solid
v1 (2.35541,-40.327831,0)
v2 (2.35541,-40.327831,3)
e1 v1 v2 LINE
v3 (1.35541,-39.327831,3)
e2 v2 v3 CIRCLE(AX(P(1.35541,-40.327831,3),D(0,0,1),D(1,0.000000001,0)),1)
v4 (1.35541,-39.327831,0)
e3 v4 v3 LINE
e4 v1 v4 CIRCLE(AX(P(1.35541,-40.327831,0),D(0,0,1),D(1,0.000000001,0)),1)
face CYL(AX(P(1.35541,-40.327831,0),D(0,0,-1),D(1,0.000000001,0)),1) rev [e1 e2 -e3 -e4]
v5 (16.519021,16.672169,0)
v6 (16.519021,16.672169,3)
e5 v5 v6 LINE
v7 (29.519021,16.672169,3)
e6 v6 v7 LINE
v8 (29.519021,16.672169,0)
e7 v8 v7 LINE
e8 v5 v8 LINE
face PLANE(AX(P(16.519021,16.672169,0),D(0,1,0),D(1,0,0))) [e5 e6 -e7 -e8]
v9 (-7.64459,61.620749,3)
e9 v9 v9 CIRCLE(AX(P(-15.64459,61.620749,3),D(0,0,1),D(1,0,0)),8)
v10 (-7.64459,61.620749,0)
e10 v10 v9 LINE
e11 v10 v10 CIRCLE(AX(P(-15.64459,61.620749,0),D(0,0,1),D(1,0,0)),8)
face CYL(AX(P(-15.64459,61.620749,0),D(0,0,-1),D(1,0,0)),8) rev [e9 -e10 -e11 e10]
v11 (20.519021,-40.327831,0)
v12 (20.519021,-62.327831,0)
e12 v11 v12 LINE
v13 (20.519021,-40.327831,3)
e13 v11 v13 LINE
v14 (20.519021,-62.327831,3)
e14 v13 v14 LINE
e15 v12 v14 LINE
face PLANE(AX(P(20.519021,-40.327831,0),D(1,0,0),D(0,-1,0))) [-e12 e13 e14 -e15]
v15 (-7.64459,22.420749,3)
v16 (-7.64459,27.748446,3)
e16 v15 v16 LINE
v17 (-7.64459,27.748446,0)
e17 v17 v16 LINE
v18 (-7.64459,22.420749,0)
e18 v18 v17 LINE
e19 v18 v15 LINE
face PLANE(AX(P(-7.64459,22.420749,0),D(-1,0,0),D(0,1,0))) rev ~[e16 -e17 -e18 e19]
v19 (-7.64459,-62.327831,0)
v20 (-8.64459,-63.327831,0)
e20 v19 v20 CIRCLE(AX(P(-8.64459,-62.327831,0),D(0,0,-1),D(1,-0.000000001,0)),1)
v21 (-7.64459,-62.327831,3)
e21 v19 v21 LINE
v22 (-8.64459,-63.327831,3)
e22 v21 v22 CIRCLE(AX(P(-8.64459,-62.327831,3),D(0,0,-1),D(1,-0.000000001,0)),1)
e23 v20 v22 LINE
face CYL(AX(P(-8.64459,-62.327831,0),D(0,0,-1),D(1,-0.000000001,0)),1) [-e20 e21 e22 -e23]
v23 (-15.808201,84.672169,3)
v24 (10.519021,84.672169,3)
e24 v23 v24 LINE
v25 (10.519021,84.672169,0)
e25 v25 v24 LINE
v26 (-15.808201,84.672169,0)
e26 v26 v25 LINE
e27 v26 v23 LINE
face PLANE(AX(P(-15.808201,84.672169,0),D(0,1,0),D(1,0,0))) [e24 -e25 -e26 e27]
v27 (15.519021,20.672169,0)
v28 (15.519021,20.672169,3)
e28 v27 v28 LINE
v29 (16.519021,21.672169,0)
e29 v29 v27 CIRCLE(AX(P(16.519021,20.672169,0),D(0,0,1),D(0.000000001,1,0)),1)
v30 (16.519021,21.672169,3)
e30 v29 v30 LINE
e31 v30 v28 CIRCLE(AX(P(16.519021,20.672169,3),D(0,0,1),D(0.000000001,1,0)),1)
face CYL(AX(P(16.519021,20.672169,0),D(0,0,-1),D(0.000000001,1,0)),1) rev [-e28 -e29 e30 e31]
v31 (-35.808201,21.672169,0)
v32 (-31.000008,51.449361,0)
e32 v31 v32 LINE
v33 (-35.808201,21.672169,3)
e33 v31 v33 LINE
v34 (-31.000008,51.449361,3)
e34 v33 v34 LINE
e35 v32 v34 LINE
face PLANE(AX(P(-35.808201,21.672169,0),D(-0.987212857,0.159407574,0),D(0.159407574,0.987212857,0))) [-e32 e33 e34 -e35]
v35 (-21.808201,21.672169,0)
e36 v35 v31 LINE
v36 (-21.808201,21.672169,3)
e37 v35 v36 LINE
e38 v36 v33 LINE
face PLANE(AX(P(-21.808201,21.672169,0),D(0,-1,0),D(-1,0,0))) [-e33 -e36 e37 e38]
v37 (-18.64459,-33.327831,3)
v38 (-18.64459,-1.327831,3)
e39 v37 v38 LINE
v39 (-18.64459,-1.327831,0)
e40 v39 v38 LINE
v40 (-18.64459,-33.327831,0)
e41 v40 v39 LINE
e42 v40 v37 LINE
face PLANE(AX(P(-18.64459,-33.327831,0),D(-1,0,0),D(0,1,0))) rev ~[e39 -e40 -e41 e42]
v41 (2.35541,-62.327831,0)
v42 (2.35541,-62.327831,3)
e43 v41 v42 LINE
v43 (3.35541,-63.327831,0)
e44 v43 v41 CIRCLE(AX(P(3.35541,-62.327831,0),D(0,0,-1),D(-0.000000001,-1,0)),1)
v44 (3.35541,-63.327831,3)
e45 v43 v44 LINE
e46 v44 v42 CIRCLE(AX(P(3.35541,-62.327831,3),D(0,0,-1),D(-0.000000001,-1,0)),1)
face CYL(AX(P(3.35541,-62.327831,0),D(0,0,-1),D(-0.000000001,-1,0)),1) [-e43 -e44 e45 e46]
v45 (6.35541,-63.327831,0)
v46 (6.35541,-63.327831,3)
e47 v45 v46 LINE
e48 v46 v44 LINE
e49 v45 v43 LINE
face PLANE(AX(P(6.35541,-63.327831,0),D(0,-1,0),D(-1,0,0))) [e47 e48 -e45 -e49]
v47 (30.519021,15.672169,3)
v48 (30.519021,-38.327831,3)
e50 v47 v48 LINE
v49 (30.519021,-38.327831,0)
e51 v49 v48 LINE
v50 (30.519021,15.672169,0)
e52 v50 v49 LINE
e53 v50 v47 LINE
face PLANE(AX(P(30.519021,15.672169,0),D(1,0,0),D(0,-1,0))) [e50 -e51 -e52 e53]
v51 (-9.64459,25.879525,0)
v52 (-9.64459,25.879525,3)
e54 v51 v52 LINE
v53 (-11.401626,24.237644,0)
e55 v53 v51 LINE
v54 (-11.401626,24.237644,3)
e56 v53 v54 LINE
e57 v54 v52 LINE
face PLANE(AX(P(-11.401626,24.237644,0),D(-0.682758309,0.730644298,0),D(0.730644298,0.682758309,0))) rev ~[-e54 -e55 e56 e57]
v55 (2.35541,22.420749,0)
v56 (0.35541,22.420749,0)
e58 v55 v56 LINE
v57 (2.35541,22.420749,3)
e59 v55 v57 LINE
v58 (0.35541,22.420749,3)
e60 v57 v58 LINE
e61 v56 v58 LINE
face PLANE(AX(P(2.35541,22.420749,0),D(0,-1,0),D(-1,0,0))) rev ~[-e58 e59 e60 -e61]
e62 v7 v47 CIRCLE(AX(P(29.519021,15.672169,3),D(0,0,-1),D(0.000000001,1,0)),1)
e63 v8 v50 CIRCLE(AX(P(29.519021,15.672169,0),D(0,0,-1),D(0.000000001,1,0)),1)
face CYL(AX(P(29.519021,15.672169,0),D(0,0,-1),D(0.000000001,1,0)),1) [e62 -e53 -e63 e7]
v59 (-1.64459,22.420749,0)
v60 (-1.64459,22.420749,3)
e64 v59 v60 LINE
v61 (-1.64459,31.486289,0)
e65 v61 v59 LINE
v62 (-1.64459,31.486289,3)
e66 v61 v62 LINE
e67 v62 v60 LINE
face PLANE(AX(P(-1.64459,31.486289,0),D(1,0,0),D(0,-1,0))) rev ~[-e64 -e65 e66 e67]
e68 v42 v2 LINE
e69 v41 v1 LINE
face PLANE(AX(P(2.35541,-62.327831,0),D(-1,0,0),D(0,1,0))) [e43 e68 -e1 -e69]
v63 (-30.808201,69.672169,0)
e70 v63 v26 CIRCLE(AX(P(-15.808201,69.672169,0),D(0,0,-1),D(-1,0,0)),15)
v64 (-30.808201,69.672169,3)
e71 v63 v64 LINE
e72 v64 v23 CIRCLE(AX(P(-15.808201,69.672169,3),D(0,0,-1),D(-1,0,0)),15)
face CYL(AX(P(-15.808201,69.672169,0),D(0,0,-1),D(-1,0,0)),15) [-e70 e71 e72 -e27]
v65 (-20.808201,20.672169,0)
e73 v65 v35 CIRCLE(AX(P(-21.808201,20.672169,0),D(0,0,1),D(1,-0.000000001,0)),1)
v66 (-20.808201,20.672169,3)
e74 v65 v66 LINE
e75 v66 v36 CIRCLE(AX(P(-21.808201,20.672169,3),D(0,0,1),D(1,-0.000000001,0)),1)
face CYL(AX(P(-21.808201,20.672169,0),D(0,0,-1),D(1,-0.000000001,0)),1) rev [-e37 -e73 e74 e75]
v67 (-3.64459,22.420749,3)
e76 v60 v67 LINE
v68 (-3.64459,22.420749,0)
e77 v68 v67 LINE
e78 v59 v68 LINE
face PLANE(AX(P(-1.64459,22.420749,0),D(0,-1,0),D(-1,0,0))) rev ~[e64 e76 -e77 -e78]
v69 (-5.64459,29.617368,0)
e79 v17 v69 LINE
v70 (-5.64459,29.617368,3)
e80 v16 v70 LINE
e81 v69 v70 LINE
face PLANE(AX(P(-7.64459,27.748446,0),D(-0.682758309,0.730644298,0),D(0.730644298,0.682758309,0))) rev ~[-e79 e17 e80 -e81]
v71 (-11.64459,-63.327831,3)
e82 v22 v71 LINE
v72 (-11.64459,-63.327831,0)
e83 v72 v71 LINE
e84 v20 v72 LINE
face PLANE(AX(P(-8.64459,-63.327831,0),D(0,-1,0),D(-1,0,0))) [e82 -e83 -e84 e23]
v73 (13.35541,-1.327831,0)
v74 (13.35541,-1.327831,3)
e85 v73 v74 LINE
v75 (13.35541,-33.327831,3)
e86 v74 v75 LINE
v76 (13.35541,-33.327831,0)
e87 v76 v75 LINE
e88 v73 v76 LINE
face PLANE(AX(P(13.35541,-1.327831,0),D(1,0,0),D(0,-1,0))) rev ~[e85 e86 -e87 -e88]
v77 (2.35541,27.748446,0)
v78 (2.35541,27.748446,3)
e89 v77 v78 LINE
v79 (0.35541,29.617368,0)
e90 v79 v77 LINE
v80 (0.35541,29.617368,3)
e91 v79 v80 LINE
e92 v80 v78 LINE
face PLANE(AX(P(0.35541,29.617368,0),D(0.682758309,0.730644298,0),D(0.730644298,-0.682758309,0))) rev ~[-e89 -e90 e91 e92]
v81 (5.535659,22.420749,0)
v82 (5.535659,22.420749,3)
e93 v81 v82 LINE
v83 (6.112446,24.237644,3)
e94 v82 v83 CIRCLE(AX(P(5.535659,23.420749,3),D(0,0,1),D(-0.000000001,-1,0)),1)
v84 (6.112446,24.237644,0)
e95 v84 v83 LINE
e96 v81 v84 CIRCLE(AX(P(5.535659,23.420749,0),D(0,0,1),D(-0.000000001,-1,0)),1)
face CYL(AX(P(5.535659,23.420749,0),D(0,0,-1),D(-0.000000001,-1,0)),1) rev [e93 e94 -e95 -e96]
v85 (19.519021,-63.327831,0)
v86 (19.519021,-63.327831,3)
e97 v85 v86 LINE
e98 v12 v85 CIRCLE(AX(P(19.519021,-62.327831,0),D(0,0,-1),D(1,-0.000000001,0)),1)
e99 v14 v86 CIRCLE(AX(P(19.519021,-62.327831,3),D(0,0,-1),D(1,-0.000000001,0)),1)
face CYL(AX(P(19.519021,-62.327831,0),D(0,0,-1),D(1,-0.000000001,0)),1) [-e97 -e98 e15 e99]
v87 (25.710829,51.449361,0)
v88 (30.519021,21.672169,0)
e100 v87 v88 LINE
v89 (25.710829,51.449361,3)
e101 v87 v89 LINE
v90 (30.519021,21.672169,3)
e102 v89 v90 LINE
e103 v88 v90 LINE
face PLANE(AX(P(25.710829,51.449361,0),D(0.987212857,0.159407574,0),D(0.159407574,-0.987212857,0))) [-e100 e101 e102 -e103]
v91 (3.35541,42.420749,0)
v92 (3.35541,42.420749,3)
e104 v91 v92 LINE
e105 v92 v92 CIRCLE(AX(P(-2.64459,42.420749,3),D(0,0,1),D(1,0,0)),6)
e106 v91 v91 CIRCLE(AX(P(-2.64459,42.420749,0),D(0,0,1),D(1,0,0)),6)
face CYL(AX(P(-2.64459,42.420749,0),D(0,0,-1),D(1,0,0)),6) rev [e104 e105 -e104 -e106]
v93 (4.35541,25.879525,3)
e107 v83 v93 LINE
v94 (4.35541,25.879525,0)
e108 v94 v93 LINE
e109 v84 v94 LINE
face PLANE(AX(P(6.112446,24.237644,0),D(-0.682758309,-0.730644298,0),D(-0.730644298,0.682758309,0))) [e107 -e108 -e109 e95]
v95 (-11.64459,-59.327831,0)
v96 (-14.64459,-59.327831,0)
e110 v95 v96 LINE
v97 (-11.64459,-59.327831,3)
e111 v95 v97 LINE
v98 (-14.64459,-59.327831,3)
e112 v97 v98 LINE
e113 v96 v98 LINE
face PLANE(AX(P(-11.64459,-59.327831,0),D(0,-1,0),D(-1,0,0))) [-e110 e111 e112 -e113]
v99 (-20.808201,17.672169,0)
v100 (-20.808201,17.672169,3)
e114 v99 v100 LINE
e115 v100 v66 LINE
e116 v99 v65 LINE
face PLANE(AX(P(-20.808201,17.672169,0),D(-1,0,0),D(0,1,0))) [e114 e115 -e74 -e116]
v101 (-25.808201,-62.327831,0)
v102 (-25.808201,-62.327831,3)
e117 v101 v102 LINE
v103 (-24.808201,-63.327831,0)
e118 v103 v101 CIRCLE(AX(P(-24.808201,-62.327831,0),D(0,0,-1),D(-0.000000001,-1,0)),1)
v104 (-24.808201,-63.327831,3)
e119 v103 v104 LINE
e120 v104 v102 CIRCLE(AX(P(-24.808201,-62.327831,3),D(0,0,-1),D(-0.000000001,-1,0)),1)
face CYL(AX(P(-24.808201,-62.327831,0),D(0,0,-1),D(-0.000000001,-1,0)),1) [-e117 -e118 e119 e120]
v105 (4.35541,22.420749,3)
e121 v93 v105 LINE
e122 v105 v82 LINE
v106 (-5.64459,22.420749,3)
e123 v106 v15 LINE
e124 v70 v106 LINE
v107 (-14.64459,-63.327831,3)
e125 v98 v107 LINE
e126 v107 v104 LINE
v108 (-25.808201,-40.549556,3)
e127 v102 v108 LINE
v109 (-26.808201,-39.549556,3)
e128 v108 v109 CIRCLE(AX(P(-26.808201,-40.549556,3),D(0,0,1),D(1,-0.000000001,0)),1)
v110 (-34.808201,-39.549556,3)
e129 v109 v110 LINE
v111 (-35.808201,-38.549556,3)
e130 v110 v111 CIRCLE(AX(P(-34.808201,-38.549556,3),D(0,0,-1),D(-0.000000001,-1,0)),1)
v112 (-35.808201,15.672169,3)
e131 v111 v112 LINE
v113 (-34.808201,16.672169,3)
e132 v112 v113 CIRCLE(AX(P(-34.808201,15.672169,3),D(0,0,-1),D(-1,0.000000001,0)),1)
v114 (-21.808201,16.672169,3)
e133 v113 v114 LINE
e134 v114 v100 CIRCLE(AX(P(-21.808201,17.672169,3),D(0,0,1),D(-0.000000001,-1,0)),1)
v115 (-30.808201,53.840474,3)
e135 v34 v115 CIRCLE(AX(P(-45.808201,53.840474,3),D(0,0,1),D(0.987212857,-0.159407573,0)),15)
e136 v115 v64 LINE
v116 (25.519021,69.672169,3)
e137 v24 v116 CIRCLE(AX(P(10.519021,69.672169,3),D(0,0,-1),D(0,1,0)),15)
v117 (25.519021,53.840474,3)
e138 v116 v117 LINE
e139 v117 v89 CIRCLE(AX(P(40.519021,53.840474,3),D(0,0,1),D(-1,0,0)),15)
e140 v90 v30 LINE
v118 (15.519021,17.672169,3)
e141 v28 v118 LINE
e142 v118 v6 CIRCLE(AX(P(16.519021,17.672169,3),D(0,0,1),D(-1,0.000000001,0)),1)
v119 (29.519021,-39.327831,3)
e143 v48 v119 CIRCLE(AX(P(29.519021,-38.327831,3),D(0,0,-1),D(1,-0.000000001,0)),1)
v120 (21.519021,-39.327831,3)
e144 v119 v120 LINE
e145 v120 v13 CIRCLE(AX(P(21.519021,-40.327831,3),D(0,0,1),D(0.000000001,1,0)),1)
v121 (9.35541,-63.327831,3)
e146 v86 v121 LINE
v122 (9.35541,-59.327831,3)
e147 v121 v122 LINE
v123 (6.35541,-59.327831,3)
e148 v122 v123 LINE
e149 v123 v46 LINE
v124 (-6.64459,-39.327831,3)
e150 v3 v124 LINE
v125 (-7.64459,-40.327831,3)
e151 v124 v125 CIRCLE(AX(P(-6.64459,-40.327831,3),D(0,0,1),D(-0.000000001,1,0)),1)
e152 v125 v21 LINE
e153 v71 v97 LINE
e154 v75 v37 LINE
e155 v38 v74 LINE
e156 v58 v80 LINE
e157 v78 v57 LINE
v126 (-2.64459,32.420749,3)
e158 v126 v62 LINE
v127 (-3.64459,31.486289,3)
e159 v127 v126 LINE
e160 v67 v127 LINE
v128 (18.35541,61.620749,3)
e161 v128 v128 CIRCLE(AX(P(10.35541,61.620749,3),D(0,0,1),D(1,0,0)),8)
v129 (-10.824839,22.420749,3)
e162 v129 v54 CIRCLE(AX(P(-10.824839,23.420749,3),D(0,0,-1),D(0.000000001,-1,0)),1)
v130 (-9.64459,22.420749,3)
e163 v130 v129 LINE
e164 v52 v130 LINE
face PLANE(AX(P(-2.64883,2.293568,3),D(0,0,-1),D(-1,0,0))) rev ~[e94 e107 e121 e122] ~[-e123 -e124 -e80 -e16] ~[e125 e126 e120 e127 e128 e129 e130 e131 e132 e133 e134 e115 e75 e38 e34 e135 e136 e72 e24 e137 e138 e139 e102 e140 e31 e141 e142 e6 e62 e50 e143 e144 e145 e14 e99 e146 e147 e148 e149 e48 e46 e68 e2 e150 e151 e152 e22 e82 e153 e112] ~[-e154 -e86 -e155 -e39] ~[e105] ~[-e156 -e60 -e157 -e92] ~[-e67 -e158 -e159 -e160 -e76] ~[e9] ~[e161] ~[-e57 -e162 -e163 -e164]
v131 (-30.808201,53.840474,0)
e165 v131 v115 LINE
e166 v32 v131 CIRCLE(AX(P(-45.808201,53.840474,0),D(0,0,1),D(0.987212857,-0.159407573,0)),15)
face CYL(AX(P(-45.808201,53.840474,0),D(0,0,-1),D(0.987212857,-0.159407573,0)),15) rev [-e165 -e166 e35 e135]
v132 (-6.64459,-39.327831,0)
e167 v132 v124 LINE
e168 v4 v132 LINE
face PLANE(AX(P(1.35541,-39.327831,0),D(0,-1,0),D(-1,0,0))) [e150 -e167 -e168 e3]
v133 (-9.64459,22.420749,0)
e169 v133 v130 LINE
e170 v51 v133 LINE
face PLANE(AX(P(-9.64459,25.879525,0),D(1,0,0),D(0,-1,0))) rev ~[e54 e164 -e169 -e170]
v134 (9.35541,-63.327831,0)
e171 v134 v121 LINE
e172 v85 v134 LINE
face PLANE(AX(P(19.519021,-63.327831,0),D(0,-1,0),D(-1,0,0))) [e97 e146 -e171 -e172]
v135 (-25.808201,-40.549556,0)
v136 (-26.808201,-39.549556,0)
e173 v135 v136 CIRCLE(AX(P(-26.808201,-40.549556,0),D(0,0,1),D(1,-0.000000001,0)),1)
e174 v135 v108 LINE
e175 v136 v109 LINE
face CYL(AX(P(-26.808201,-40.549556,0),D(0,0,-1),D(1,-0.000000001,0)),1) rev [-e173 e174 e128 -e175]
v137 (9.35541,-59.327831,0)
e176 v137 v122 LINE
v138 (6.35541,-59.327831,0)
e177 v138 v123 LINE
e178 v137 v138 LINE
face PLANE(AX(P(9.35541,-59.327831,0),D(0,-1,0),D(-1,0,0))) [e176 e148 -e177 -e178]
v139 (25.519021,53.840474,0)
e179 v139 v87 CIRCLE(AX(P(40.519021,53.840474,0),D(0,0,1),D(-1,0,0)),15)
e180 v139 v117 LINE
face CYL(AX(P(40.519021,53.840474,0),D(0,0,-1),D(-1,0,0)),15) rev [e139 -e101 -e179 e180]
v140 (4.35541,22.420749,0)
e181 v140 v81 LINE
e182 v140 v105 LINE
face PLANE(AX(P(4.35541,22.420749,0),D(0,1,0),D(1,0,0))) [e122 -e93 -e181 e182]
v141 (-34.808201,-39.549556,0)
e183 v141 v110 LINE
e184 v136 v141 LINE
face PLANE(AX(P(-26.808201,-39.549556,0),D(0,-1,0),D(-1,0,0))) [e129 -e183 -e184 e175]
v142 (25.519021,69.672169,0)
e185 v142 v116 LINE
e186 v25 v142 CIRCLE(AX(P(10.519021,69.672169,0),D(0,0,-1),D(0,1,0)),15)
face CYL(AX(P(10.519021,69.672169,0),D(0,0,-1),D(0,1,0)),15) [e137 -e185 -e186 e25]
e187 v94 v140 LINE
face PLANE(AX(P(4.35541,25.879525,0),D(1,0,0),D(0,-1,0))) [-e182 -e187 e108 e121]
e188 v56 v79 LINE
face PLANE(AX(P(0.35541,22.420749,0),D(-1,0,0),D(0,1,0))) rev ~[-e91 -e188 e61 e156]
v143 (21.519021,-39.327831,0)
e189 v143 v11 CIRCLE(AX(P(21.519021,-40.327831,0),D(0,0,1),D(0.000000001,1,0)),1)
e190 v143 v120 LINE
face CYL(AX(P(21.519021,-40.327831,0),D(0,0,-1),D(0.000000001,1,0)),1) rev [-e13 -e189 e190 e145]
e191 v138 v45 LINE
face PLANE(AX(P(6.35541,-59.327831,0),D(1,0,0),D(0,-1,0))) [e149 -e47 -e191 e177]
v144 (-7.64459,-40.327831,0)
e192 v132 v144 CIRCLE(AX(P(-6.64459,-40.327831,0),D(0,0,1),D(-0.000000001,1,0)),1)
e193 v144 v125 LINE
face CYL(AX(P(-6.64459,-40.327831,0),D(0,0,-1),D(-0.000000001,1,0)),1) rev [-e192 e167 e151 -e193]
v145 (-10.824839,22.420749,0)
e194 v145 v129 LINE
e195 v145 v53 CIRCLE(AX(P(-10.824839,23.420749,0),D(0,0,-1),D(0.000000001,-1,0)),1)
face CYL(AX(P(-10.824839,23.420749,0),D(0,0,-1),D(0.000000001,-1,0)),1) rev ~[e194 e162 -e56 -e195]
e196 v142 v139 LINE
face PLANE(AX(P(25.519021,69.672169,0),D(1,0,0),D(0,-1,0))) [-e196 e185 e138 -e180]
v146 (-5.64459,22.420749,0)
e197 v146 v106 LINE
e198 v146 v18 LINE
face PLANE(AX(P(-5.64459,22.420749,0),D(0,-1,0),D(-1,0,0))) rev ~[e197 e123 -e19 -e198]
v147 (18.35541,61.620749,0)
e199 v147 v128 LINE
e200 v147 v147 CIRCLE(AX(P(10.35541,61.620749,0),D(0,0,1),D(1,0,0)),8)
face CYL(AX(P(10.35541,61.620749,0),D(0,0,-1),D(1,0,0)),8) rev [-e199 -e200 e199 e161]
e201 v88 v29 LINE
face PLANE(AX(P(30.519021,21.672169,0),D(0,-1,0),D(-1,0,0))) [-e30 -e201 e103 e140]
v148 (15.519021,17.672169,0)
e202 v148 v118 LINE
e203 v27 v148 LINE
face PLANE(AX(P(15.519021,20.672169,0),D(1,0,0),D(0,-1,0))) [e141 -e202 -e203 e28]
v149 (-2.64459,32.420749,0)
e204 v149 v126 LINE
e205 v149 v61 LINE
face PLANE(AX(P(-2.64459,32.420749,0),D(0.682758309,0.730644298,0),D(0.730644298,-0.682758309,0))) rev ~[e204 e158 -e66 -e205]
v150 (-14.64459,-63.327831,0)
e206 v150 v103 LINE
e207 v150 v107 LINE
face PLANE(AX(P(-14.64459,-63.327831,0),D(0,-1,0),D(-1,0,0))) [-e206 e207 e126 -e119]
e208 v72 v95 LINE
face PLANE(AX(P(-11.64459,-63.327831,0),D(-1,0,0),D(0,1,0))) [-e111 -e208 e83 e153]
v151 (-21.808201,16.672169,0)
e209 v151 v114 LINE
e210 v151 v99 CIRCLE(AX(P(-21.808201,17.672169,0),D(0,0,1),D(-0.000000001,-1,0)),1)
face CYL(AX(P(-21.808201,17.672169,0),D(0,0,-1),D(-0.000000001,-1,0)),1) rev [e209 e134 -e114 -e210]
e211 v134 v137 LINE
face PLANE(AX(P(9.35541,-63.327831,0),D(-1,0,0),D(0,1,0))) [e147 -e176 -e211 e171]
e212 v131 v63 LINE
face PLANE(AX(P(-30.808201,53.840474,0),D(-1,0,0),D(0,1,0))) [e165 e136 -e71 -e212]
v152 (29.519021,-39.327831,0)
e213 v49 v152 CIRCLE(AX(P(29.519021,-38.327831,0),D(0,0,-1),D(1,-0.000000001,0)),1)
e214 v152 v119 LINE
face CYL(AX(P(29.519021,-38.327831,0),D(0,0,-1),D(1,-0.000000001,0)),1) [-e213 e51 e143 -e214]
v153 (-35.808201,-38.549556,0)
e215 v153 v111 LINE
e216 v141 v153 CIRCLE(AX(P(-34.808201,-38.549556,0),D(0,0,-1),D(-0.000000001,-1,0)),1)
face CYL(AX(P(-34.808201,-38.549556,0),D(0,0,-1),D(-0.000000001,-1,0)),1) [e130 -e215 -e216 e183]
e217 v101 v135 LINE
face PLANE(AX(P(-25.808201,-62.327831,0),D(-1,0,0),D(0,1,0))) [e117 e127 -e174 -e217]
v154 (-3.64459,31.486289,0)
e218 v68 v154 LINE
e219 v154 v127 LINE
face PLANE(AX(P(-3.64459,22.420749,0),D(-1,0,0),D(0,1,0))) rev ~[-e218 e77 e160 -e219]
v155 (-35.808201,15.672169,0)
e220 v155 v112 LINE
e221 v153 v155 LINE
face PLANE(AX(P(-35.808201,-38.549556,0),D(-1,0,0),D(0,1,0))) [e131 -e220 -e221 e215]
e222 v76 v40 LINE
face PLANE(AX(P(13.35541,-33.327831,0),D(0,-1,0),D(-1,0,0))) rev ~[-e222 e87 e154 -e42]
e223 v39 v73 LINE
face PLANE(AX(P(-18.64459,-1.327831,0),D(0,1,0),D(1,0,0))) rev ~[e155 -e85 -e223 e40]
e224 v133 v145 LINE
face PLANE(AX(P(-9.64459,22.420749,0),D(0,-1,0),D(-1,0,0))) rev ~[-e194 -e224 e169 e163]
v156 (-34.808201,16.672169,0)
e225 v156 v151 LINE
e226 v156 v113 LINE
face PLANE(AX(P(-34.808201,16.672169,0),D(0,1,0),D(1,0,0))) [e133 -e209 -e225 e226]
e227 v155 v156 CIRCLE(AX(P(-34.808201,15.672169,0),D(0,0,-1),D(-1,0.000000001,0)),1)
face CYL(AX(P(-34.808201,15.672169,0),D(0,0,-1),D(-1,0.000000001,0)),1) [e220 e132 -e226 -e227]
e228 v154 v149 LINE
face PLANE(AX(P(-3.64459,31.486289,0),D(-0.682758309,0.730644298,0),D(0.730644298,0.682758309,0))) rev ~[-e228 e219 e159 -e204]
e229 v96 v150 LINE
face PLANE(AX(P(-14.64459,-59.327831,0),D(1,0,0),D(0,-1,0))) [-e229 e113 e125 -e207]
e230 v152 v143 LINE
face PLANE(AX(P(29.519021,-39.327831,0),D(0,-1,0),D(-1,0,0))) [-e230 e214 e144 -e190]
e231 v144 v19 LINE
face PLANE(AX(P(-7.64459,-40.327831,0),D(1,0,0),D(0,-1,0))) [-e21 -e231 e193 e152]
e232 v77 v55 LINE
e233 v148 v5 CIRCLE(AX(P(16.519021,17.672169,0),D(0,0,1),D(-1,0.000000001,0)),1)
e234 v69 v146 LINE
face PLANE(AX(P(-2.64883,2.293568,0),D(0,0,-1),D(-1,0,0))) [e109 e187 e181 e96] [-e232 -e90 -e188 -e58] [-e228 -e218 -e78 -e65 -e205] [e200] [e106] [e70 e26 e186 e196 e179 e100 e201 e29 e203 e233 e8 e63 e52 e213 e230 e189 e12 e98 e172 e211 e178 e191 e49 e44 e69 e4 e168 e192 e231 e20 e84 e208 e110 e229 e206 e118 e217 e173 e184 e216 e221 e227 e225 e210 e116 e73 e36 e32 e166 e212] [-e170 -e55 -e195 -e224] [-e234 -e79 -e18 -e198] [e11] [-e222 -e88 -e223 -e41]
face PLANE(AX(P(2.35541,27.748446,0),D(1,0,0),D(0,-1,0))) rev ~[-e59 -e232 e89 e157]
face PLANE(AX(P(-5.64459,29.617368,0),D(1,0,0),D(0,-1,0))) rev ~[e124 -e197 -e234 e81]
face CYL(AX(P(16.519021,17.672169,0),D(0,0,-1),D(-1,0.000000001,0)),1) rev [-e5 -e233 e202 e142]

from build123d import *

# Parameters (mm, degrees)
MODEL_R                 = 8
MODEL_R_2               = 6
SALIENTE_EXTRUIR1_DEPTH = 3


with BuildPart() as part:
    # Model → Saliente-Extruir1 (new body)
    with BuildSketch(Plane.XY):
        with BuildLine():
            Line((30.519021416, 15.672169472), (30.519021416, -38.327830528))
            ThreePointArc((30.519021416, -38.327830528), (30.226128197, -39.034937309), (29.519021416, -39.327830528))
            Line((29.519021416, -39.327830528), (21.519021416, -39.327830528))
            ThreePointArc((21.519021416, -39.327830528), (20.811914634, -39.620723747), (20.519021416, -40.327830528))
            Line((20.519021416, -40.327830528), (20.519021416, -62.327830528))
            ThreePointArc((20.519021416, -62.327830528), (20.226128197, -63.034937309), (19.519021416, -63.327830528))
            Line((19.519021416, -63.327830528), (9.355410048, -63.327830528))
            Line((9.355410048, -63.327830528), (9.355410048, -59.327830528))
            Line((9.355410048, -59.327830528), (6.355410048, -59.327830528))
            Line((6.355410048, -59.327830528), (6.355410048, -63.327830528))
            Line((6.355410048, -63.327830528), (3.355410048, -63.327830528))
            ThreePointArc((3.355410048, -63.327830528), (2.648303267, -63.034937309), (2.355410048, -62.327830528))
            Line((2.355410048, -62.327830528), (2.355410048, -40.327830528))
            ThreePointArc((2.355410048, -40.327830528), (2.062516829, -39.620723747), (1.355410048, -39.327830528))
            Line((1.355410048, -39.327830528), (-6.644589952, -39.327830528))
            ThreePointArc((-6.644589952, -39.327830528), (-7.351696733, -39.620723747), (-7.644589952, -40.327830528))
            Line((-7.644589952, -40.327830528), (-7.644589952, -62.327830528))
            ThreePointArc((-7.644589952, -62.327830528), (-7.937483171, -63.034937309), (-8.644589952, -63.327830528))
            Line((-8.644589952, -63.327830528), (-11.644589952, -63.327830528))
            Line((-11.644589952, -63.327830528), (-11.644589952, -59.327830528))
            Line((-11.644589952, -59.327830528), (-14.644589952, -59.327830528))
            Line((-14.644589952, -59.327830528), (-14.644589952, -63.327830528))
            Line((-14.644589952, -63.327830528), (-24.80820132, -63.327830528))
            ThreePointArc((-24.80820132, -63.327830528), (-25.515308101, -63.034937309), (-25.80820132, -62.327830528))
            Line((-25.80820132, -62.327830528), (-25.80820132, -40.549556443))
            ThreePointArc((-25.80820132, -40.549556443), (-26.101094538, -39.842449662), (-26.80820132, -39.549556443))
            Line((-26.80820132, -39.549556443), (-34.80820132, -39.549556443))
            ThreePointArc((-34.80820132, -39.549556443), (-35.515308101, -39.256663224), (-35.80820132, -38.549556443))
            Line((-35.80820132, -38.549556443), (-35.80820132, 8.978477483))
            Line((-35.80820132, 8.978477483), (-35.80820132, 15.672169472))
            ThreePointArc((-35.80820132, 15.672169472), (-35.515308101, 16.379276253), (-34.80820132, 16.672169472))
            Line((-34.80820132, 16.672169472), (-21.80820132, 16.672169472))
            ThreePointArc((-21.80820132, 16.672169472), (-21.101094538, 16.965062691), (-20.80820132, 17.672169472))
            Line((-20.80820132, 17.672169472), (-20.80820132, 20.672169472))
            ThreePointArc((-20.80820132, 20.672169472), (-21.101094538, 21.379276253), (-21.80820132, 21.672169472))
            Line((-21.80820132, 21.672169472), (-35.80820132, 21.672169472))
            Line((-35.80820132, 21.672169472), (-31.000008461, 51.449360761))
            ThreePointArc((-31.000008461, 51.449360761), (-30.856229997, 52.641077199), (-30.80820132, 53.840474364))
            Line((-30.80820132, 53.840474364), (-30.80820132, 69.672169472))
            ThreePointArc((-30.80820132, 69.672169472), (-26.414803037, 80.27877119), (-15.80820132, 84.672169472))
            Line((-15.80820132, 84.672169472), (10.519021416, 84.672169472))
            ThreePointArc((10.519021416, 84.672169472), (21.125623133, 80.27877119), (25.519021416, 69.672169472))
            Line((25.519021416, 69.672169472), (25.519021416, 62.471272593))
            Line((25.519021416, 62.471272593), (25.519021416, 53.840474364))
            ThreePointArc((25.519021416, 53.840474364), (25.567050093, 52.641077199), (25.710828557, 51.449360761))
            Line((25.710828557, 51.449360761), (30.519021416, 21.672169472))
            Line((30.519021416, 21.672169472), (16.519021416, 21.672169472))
            ThreePointArc((16.519021416, 21.672169472), (15.811914634, 21.379276253), (15.519021416, 20.672169472))
            Line((15.519021416, 20.672169472), (15.519021416, 17.672169472))
            ThreePointArc((15.519021416, 17.672169472), (15.811914634, 16.965062691), (16.519021416, 16.672169472))
            Line((16.519021416, 16.672169472), (29.519021416, 16.672169472))
            ThreePointArc((29.519021416, 16.672169472), (30.226128197, 16.379276253), (30.519021416, 15.672169472))
        make_face()
        with Locations((-15.644589952, 61.620749462)):
            Circle(MODEL_R, mode=Mode.SUBTRACT)
        with Locations((10.355410048, 61.620749462)):
            Circle(MODEL_R, mode=Mode.SUBTRACT)
        with Locations((-2.644589952, 42.420749462)):
            Circle(MODEL_R_2, mode=Mode.SUBTRACT)
        with BuildLine():
            Line((4.355410048, 22.420749462), (5.535659362, 22.420749462))
            ThreePointArc((5.535659362, 22.420749462), (6.488784367, 23.118172652), (6.112446409, 24.23764401))
            Line((6.112446409, 24.23764401), (4.355410048, 25.879525262))
            Line((4.355410048, 25.879525262), (4.355410048, 22.420749462))
        make_face(mode=Mode.SUBTRACT)
        Polygon((2.355410048, 22.420749462), (0.355410048, 22.420749462), (0.355410048, 29.617367662), (2.355410048, 27.748446462), align=None, mode=Mode.SUBTRACT)
        Polygon((-3.644589952, 31.486288862), (-2.644589952, 32.420749462), (-1.644589952, 31.486288862), (-1.644589952, 22.420749462), (-3.644589952, 22.420749462), align=None, mode=Mode.SUBTRACT)
        Polygon((-5.644589952, 22.420749462), (-7.644589952, 22.420749462), (-7.644589952, 27.748446462), (-5.644589952, 29.617367662), align=None, mode=Mode.SUBTRACT)
        with BuildLine():
            Line((-9.644589952, 22.420749462), (-10.824839266, 22.420749462))
            ThreePointArc((-10.824839266, 22.420749462), (-11.777964271, 23.118172652), (-11.401626313, 24.23764401))
            Line((-11.401626313, 24.23764401), (-9.644589952, 25.879525262))
            Line((-9.644589952, 25.879525262), (-9.644589952, 22.420749462))
        make_face(mode=Mode.SUBTRACT)
        Polygon((13.355410048, -33.327830528), (-18.644589952, -33.327830528), (-18.644589952, -1.327830528), (-2.144589952, -1.327830528), (13.355410048, -1.327830528), align=None, mode=Mode.SUBTRACT)
    extrude(amount=SALIENTE_EXTRUIR1_DEPTH)


solid = part.part
